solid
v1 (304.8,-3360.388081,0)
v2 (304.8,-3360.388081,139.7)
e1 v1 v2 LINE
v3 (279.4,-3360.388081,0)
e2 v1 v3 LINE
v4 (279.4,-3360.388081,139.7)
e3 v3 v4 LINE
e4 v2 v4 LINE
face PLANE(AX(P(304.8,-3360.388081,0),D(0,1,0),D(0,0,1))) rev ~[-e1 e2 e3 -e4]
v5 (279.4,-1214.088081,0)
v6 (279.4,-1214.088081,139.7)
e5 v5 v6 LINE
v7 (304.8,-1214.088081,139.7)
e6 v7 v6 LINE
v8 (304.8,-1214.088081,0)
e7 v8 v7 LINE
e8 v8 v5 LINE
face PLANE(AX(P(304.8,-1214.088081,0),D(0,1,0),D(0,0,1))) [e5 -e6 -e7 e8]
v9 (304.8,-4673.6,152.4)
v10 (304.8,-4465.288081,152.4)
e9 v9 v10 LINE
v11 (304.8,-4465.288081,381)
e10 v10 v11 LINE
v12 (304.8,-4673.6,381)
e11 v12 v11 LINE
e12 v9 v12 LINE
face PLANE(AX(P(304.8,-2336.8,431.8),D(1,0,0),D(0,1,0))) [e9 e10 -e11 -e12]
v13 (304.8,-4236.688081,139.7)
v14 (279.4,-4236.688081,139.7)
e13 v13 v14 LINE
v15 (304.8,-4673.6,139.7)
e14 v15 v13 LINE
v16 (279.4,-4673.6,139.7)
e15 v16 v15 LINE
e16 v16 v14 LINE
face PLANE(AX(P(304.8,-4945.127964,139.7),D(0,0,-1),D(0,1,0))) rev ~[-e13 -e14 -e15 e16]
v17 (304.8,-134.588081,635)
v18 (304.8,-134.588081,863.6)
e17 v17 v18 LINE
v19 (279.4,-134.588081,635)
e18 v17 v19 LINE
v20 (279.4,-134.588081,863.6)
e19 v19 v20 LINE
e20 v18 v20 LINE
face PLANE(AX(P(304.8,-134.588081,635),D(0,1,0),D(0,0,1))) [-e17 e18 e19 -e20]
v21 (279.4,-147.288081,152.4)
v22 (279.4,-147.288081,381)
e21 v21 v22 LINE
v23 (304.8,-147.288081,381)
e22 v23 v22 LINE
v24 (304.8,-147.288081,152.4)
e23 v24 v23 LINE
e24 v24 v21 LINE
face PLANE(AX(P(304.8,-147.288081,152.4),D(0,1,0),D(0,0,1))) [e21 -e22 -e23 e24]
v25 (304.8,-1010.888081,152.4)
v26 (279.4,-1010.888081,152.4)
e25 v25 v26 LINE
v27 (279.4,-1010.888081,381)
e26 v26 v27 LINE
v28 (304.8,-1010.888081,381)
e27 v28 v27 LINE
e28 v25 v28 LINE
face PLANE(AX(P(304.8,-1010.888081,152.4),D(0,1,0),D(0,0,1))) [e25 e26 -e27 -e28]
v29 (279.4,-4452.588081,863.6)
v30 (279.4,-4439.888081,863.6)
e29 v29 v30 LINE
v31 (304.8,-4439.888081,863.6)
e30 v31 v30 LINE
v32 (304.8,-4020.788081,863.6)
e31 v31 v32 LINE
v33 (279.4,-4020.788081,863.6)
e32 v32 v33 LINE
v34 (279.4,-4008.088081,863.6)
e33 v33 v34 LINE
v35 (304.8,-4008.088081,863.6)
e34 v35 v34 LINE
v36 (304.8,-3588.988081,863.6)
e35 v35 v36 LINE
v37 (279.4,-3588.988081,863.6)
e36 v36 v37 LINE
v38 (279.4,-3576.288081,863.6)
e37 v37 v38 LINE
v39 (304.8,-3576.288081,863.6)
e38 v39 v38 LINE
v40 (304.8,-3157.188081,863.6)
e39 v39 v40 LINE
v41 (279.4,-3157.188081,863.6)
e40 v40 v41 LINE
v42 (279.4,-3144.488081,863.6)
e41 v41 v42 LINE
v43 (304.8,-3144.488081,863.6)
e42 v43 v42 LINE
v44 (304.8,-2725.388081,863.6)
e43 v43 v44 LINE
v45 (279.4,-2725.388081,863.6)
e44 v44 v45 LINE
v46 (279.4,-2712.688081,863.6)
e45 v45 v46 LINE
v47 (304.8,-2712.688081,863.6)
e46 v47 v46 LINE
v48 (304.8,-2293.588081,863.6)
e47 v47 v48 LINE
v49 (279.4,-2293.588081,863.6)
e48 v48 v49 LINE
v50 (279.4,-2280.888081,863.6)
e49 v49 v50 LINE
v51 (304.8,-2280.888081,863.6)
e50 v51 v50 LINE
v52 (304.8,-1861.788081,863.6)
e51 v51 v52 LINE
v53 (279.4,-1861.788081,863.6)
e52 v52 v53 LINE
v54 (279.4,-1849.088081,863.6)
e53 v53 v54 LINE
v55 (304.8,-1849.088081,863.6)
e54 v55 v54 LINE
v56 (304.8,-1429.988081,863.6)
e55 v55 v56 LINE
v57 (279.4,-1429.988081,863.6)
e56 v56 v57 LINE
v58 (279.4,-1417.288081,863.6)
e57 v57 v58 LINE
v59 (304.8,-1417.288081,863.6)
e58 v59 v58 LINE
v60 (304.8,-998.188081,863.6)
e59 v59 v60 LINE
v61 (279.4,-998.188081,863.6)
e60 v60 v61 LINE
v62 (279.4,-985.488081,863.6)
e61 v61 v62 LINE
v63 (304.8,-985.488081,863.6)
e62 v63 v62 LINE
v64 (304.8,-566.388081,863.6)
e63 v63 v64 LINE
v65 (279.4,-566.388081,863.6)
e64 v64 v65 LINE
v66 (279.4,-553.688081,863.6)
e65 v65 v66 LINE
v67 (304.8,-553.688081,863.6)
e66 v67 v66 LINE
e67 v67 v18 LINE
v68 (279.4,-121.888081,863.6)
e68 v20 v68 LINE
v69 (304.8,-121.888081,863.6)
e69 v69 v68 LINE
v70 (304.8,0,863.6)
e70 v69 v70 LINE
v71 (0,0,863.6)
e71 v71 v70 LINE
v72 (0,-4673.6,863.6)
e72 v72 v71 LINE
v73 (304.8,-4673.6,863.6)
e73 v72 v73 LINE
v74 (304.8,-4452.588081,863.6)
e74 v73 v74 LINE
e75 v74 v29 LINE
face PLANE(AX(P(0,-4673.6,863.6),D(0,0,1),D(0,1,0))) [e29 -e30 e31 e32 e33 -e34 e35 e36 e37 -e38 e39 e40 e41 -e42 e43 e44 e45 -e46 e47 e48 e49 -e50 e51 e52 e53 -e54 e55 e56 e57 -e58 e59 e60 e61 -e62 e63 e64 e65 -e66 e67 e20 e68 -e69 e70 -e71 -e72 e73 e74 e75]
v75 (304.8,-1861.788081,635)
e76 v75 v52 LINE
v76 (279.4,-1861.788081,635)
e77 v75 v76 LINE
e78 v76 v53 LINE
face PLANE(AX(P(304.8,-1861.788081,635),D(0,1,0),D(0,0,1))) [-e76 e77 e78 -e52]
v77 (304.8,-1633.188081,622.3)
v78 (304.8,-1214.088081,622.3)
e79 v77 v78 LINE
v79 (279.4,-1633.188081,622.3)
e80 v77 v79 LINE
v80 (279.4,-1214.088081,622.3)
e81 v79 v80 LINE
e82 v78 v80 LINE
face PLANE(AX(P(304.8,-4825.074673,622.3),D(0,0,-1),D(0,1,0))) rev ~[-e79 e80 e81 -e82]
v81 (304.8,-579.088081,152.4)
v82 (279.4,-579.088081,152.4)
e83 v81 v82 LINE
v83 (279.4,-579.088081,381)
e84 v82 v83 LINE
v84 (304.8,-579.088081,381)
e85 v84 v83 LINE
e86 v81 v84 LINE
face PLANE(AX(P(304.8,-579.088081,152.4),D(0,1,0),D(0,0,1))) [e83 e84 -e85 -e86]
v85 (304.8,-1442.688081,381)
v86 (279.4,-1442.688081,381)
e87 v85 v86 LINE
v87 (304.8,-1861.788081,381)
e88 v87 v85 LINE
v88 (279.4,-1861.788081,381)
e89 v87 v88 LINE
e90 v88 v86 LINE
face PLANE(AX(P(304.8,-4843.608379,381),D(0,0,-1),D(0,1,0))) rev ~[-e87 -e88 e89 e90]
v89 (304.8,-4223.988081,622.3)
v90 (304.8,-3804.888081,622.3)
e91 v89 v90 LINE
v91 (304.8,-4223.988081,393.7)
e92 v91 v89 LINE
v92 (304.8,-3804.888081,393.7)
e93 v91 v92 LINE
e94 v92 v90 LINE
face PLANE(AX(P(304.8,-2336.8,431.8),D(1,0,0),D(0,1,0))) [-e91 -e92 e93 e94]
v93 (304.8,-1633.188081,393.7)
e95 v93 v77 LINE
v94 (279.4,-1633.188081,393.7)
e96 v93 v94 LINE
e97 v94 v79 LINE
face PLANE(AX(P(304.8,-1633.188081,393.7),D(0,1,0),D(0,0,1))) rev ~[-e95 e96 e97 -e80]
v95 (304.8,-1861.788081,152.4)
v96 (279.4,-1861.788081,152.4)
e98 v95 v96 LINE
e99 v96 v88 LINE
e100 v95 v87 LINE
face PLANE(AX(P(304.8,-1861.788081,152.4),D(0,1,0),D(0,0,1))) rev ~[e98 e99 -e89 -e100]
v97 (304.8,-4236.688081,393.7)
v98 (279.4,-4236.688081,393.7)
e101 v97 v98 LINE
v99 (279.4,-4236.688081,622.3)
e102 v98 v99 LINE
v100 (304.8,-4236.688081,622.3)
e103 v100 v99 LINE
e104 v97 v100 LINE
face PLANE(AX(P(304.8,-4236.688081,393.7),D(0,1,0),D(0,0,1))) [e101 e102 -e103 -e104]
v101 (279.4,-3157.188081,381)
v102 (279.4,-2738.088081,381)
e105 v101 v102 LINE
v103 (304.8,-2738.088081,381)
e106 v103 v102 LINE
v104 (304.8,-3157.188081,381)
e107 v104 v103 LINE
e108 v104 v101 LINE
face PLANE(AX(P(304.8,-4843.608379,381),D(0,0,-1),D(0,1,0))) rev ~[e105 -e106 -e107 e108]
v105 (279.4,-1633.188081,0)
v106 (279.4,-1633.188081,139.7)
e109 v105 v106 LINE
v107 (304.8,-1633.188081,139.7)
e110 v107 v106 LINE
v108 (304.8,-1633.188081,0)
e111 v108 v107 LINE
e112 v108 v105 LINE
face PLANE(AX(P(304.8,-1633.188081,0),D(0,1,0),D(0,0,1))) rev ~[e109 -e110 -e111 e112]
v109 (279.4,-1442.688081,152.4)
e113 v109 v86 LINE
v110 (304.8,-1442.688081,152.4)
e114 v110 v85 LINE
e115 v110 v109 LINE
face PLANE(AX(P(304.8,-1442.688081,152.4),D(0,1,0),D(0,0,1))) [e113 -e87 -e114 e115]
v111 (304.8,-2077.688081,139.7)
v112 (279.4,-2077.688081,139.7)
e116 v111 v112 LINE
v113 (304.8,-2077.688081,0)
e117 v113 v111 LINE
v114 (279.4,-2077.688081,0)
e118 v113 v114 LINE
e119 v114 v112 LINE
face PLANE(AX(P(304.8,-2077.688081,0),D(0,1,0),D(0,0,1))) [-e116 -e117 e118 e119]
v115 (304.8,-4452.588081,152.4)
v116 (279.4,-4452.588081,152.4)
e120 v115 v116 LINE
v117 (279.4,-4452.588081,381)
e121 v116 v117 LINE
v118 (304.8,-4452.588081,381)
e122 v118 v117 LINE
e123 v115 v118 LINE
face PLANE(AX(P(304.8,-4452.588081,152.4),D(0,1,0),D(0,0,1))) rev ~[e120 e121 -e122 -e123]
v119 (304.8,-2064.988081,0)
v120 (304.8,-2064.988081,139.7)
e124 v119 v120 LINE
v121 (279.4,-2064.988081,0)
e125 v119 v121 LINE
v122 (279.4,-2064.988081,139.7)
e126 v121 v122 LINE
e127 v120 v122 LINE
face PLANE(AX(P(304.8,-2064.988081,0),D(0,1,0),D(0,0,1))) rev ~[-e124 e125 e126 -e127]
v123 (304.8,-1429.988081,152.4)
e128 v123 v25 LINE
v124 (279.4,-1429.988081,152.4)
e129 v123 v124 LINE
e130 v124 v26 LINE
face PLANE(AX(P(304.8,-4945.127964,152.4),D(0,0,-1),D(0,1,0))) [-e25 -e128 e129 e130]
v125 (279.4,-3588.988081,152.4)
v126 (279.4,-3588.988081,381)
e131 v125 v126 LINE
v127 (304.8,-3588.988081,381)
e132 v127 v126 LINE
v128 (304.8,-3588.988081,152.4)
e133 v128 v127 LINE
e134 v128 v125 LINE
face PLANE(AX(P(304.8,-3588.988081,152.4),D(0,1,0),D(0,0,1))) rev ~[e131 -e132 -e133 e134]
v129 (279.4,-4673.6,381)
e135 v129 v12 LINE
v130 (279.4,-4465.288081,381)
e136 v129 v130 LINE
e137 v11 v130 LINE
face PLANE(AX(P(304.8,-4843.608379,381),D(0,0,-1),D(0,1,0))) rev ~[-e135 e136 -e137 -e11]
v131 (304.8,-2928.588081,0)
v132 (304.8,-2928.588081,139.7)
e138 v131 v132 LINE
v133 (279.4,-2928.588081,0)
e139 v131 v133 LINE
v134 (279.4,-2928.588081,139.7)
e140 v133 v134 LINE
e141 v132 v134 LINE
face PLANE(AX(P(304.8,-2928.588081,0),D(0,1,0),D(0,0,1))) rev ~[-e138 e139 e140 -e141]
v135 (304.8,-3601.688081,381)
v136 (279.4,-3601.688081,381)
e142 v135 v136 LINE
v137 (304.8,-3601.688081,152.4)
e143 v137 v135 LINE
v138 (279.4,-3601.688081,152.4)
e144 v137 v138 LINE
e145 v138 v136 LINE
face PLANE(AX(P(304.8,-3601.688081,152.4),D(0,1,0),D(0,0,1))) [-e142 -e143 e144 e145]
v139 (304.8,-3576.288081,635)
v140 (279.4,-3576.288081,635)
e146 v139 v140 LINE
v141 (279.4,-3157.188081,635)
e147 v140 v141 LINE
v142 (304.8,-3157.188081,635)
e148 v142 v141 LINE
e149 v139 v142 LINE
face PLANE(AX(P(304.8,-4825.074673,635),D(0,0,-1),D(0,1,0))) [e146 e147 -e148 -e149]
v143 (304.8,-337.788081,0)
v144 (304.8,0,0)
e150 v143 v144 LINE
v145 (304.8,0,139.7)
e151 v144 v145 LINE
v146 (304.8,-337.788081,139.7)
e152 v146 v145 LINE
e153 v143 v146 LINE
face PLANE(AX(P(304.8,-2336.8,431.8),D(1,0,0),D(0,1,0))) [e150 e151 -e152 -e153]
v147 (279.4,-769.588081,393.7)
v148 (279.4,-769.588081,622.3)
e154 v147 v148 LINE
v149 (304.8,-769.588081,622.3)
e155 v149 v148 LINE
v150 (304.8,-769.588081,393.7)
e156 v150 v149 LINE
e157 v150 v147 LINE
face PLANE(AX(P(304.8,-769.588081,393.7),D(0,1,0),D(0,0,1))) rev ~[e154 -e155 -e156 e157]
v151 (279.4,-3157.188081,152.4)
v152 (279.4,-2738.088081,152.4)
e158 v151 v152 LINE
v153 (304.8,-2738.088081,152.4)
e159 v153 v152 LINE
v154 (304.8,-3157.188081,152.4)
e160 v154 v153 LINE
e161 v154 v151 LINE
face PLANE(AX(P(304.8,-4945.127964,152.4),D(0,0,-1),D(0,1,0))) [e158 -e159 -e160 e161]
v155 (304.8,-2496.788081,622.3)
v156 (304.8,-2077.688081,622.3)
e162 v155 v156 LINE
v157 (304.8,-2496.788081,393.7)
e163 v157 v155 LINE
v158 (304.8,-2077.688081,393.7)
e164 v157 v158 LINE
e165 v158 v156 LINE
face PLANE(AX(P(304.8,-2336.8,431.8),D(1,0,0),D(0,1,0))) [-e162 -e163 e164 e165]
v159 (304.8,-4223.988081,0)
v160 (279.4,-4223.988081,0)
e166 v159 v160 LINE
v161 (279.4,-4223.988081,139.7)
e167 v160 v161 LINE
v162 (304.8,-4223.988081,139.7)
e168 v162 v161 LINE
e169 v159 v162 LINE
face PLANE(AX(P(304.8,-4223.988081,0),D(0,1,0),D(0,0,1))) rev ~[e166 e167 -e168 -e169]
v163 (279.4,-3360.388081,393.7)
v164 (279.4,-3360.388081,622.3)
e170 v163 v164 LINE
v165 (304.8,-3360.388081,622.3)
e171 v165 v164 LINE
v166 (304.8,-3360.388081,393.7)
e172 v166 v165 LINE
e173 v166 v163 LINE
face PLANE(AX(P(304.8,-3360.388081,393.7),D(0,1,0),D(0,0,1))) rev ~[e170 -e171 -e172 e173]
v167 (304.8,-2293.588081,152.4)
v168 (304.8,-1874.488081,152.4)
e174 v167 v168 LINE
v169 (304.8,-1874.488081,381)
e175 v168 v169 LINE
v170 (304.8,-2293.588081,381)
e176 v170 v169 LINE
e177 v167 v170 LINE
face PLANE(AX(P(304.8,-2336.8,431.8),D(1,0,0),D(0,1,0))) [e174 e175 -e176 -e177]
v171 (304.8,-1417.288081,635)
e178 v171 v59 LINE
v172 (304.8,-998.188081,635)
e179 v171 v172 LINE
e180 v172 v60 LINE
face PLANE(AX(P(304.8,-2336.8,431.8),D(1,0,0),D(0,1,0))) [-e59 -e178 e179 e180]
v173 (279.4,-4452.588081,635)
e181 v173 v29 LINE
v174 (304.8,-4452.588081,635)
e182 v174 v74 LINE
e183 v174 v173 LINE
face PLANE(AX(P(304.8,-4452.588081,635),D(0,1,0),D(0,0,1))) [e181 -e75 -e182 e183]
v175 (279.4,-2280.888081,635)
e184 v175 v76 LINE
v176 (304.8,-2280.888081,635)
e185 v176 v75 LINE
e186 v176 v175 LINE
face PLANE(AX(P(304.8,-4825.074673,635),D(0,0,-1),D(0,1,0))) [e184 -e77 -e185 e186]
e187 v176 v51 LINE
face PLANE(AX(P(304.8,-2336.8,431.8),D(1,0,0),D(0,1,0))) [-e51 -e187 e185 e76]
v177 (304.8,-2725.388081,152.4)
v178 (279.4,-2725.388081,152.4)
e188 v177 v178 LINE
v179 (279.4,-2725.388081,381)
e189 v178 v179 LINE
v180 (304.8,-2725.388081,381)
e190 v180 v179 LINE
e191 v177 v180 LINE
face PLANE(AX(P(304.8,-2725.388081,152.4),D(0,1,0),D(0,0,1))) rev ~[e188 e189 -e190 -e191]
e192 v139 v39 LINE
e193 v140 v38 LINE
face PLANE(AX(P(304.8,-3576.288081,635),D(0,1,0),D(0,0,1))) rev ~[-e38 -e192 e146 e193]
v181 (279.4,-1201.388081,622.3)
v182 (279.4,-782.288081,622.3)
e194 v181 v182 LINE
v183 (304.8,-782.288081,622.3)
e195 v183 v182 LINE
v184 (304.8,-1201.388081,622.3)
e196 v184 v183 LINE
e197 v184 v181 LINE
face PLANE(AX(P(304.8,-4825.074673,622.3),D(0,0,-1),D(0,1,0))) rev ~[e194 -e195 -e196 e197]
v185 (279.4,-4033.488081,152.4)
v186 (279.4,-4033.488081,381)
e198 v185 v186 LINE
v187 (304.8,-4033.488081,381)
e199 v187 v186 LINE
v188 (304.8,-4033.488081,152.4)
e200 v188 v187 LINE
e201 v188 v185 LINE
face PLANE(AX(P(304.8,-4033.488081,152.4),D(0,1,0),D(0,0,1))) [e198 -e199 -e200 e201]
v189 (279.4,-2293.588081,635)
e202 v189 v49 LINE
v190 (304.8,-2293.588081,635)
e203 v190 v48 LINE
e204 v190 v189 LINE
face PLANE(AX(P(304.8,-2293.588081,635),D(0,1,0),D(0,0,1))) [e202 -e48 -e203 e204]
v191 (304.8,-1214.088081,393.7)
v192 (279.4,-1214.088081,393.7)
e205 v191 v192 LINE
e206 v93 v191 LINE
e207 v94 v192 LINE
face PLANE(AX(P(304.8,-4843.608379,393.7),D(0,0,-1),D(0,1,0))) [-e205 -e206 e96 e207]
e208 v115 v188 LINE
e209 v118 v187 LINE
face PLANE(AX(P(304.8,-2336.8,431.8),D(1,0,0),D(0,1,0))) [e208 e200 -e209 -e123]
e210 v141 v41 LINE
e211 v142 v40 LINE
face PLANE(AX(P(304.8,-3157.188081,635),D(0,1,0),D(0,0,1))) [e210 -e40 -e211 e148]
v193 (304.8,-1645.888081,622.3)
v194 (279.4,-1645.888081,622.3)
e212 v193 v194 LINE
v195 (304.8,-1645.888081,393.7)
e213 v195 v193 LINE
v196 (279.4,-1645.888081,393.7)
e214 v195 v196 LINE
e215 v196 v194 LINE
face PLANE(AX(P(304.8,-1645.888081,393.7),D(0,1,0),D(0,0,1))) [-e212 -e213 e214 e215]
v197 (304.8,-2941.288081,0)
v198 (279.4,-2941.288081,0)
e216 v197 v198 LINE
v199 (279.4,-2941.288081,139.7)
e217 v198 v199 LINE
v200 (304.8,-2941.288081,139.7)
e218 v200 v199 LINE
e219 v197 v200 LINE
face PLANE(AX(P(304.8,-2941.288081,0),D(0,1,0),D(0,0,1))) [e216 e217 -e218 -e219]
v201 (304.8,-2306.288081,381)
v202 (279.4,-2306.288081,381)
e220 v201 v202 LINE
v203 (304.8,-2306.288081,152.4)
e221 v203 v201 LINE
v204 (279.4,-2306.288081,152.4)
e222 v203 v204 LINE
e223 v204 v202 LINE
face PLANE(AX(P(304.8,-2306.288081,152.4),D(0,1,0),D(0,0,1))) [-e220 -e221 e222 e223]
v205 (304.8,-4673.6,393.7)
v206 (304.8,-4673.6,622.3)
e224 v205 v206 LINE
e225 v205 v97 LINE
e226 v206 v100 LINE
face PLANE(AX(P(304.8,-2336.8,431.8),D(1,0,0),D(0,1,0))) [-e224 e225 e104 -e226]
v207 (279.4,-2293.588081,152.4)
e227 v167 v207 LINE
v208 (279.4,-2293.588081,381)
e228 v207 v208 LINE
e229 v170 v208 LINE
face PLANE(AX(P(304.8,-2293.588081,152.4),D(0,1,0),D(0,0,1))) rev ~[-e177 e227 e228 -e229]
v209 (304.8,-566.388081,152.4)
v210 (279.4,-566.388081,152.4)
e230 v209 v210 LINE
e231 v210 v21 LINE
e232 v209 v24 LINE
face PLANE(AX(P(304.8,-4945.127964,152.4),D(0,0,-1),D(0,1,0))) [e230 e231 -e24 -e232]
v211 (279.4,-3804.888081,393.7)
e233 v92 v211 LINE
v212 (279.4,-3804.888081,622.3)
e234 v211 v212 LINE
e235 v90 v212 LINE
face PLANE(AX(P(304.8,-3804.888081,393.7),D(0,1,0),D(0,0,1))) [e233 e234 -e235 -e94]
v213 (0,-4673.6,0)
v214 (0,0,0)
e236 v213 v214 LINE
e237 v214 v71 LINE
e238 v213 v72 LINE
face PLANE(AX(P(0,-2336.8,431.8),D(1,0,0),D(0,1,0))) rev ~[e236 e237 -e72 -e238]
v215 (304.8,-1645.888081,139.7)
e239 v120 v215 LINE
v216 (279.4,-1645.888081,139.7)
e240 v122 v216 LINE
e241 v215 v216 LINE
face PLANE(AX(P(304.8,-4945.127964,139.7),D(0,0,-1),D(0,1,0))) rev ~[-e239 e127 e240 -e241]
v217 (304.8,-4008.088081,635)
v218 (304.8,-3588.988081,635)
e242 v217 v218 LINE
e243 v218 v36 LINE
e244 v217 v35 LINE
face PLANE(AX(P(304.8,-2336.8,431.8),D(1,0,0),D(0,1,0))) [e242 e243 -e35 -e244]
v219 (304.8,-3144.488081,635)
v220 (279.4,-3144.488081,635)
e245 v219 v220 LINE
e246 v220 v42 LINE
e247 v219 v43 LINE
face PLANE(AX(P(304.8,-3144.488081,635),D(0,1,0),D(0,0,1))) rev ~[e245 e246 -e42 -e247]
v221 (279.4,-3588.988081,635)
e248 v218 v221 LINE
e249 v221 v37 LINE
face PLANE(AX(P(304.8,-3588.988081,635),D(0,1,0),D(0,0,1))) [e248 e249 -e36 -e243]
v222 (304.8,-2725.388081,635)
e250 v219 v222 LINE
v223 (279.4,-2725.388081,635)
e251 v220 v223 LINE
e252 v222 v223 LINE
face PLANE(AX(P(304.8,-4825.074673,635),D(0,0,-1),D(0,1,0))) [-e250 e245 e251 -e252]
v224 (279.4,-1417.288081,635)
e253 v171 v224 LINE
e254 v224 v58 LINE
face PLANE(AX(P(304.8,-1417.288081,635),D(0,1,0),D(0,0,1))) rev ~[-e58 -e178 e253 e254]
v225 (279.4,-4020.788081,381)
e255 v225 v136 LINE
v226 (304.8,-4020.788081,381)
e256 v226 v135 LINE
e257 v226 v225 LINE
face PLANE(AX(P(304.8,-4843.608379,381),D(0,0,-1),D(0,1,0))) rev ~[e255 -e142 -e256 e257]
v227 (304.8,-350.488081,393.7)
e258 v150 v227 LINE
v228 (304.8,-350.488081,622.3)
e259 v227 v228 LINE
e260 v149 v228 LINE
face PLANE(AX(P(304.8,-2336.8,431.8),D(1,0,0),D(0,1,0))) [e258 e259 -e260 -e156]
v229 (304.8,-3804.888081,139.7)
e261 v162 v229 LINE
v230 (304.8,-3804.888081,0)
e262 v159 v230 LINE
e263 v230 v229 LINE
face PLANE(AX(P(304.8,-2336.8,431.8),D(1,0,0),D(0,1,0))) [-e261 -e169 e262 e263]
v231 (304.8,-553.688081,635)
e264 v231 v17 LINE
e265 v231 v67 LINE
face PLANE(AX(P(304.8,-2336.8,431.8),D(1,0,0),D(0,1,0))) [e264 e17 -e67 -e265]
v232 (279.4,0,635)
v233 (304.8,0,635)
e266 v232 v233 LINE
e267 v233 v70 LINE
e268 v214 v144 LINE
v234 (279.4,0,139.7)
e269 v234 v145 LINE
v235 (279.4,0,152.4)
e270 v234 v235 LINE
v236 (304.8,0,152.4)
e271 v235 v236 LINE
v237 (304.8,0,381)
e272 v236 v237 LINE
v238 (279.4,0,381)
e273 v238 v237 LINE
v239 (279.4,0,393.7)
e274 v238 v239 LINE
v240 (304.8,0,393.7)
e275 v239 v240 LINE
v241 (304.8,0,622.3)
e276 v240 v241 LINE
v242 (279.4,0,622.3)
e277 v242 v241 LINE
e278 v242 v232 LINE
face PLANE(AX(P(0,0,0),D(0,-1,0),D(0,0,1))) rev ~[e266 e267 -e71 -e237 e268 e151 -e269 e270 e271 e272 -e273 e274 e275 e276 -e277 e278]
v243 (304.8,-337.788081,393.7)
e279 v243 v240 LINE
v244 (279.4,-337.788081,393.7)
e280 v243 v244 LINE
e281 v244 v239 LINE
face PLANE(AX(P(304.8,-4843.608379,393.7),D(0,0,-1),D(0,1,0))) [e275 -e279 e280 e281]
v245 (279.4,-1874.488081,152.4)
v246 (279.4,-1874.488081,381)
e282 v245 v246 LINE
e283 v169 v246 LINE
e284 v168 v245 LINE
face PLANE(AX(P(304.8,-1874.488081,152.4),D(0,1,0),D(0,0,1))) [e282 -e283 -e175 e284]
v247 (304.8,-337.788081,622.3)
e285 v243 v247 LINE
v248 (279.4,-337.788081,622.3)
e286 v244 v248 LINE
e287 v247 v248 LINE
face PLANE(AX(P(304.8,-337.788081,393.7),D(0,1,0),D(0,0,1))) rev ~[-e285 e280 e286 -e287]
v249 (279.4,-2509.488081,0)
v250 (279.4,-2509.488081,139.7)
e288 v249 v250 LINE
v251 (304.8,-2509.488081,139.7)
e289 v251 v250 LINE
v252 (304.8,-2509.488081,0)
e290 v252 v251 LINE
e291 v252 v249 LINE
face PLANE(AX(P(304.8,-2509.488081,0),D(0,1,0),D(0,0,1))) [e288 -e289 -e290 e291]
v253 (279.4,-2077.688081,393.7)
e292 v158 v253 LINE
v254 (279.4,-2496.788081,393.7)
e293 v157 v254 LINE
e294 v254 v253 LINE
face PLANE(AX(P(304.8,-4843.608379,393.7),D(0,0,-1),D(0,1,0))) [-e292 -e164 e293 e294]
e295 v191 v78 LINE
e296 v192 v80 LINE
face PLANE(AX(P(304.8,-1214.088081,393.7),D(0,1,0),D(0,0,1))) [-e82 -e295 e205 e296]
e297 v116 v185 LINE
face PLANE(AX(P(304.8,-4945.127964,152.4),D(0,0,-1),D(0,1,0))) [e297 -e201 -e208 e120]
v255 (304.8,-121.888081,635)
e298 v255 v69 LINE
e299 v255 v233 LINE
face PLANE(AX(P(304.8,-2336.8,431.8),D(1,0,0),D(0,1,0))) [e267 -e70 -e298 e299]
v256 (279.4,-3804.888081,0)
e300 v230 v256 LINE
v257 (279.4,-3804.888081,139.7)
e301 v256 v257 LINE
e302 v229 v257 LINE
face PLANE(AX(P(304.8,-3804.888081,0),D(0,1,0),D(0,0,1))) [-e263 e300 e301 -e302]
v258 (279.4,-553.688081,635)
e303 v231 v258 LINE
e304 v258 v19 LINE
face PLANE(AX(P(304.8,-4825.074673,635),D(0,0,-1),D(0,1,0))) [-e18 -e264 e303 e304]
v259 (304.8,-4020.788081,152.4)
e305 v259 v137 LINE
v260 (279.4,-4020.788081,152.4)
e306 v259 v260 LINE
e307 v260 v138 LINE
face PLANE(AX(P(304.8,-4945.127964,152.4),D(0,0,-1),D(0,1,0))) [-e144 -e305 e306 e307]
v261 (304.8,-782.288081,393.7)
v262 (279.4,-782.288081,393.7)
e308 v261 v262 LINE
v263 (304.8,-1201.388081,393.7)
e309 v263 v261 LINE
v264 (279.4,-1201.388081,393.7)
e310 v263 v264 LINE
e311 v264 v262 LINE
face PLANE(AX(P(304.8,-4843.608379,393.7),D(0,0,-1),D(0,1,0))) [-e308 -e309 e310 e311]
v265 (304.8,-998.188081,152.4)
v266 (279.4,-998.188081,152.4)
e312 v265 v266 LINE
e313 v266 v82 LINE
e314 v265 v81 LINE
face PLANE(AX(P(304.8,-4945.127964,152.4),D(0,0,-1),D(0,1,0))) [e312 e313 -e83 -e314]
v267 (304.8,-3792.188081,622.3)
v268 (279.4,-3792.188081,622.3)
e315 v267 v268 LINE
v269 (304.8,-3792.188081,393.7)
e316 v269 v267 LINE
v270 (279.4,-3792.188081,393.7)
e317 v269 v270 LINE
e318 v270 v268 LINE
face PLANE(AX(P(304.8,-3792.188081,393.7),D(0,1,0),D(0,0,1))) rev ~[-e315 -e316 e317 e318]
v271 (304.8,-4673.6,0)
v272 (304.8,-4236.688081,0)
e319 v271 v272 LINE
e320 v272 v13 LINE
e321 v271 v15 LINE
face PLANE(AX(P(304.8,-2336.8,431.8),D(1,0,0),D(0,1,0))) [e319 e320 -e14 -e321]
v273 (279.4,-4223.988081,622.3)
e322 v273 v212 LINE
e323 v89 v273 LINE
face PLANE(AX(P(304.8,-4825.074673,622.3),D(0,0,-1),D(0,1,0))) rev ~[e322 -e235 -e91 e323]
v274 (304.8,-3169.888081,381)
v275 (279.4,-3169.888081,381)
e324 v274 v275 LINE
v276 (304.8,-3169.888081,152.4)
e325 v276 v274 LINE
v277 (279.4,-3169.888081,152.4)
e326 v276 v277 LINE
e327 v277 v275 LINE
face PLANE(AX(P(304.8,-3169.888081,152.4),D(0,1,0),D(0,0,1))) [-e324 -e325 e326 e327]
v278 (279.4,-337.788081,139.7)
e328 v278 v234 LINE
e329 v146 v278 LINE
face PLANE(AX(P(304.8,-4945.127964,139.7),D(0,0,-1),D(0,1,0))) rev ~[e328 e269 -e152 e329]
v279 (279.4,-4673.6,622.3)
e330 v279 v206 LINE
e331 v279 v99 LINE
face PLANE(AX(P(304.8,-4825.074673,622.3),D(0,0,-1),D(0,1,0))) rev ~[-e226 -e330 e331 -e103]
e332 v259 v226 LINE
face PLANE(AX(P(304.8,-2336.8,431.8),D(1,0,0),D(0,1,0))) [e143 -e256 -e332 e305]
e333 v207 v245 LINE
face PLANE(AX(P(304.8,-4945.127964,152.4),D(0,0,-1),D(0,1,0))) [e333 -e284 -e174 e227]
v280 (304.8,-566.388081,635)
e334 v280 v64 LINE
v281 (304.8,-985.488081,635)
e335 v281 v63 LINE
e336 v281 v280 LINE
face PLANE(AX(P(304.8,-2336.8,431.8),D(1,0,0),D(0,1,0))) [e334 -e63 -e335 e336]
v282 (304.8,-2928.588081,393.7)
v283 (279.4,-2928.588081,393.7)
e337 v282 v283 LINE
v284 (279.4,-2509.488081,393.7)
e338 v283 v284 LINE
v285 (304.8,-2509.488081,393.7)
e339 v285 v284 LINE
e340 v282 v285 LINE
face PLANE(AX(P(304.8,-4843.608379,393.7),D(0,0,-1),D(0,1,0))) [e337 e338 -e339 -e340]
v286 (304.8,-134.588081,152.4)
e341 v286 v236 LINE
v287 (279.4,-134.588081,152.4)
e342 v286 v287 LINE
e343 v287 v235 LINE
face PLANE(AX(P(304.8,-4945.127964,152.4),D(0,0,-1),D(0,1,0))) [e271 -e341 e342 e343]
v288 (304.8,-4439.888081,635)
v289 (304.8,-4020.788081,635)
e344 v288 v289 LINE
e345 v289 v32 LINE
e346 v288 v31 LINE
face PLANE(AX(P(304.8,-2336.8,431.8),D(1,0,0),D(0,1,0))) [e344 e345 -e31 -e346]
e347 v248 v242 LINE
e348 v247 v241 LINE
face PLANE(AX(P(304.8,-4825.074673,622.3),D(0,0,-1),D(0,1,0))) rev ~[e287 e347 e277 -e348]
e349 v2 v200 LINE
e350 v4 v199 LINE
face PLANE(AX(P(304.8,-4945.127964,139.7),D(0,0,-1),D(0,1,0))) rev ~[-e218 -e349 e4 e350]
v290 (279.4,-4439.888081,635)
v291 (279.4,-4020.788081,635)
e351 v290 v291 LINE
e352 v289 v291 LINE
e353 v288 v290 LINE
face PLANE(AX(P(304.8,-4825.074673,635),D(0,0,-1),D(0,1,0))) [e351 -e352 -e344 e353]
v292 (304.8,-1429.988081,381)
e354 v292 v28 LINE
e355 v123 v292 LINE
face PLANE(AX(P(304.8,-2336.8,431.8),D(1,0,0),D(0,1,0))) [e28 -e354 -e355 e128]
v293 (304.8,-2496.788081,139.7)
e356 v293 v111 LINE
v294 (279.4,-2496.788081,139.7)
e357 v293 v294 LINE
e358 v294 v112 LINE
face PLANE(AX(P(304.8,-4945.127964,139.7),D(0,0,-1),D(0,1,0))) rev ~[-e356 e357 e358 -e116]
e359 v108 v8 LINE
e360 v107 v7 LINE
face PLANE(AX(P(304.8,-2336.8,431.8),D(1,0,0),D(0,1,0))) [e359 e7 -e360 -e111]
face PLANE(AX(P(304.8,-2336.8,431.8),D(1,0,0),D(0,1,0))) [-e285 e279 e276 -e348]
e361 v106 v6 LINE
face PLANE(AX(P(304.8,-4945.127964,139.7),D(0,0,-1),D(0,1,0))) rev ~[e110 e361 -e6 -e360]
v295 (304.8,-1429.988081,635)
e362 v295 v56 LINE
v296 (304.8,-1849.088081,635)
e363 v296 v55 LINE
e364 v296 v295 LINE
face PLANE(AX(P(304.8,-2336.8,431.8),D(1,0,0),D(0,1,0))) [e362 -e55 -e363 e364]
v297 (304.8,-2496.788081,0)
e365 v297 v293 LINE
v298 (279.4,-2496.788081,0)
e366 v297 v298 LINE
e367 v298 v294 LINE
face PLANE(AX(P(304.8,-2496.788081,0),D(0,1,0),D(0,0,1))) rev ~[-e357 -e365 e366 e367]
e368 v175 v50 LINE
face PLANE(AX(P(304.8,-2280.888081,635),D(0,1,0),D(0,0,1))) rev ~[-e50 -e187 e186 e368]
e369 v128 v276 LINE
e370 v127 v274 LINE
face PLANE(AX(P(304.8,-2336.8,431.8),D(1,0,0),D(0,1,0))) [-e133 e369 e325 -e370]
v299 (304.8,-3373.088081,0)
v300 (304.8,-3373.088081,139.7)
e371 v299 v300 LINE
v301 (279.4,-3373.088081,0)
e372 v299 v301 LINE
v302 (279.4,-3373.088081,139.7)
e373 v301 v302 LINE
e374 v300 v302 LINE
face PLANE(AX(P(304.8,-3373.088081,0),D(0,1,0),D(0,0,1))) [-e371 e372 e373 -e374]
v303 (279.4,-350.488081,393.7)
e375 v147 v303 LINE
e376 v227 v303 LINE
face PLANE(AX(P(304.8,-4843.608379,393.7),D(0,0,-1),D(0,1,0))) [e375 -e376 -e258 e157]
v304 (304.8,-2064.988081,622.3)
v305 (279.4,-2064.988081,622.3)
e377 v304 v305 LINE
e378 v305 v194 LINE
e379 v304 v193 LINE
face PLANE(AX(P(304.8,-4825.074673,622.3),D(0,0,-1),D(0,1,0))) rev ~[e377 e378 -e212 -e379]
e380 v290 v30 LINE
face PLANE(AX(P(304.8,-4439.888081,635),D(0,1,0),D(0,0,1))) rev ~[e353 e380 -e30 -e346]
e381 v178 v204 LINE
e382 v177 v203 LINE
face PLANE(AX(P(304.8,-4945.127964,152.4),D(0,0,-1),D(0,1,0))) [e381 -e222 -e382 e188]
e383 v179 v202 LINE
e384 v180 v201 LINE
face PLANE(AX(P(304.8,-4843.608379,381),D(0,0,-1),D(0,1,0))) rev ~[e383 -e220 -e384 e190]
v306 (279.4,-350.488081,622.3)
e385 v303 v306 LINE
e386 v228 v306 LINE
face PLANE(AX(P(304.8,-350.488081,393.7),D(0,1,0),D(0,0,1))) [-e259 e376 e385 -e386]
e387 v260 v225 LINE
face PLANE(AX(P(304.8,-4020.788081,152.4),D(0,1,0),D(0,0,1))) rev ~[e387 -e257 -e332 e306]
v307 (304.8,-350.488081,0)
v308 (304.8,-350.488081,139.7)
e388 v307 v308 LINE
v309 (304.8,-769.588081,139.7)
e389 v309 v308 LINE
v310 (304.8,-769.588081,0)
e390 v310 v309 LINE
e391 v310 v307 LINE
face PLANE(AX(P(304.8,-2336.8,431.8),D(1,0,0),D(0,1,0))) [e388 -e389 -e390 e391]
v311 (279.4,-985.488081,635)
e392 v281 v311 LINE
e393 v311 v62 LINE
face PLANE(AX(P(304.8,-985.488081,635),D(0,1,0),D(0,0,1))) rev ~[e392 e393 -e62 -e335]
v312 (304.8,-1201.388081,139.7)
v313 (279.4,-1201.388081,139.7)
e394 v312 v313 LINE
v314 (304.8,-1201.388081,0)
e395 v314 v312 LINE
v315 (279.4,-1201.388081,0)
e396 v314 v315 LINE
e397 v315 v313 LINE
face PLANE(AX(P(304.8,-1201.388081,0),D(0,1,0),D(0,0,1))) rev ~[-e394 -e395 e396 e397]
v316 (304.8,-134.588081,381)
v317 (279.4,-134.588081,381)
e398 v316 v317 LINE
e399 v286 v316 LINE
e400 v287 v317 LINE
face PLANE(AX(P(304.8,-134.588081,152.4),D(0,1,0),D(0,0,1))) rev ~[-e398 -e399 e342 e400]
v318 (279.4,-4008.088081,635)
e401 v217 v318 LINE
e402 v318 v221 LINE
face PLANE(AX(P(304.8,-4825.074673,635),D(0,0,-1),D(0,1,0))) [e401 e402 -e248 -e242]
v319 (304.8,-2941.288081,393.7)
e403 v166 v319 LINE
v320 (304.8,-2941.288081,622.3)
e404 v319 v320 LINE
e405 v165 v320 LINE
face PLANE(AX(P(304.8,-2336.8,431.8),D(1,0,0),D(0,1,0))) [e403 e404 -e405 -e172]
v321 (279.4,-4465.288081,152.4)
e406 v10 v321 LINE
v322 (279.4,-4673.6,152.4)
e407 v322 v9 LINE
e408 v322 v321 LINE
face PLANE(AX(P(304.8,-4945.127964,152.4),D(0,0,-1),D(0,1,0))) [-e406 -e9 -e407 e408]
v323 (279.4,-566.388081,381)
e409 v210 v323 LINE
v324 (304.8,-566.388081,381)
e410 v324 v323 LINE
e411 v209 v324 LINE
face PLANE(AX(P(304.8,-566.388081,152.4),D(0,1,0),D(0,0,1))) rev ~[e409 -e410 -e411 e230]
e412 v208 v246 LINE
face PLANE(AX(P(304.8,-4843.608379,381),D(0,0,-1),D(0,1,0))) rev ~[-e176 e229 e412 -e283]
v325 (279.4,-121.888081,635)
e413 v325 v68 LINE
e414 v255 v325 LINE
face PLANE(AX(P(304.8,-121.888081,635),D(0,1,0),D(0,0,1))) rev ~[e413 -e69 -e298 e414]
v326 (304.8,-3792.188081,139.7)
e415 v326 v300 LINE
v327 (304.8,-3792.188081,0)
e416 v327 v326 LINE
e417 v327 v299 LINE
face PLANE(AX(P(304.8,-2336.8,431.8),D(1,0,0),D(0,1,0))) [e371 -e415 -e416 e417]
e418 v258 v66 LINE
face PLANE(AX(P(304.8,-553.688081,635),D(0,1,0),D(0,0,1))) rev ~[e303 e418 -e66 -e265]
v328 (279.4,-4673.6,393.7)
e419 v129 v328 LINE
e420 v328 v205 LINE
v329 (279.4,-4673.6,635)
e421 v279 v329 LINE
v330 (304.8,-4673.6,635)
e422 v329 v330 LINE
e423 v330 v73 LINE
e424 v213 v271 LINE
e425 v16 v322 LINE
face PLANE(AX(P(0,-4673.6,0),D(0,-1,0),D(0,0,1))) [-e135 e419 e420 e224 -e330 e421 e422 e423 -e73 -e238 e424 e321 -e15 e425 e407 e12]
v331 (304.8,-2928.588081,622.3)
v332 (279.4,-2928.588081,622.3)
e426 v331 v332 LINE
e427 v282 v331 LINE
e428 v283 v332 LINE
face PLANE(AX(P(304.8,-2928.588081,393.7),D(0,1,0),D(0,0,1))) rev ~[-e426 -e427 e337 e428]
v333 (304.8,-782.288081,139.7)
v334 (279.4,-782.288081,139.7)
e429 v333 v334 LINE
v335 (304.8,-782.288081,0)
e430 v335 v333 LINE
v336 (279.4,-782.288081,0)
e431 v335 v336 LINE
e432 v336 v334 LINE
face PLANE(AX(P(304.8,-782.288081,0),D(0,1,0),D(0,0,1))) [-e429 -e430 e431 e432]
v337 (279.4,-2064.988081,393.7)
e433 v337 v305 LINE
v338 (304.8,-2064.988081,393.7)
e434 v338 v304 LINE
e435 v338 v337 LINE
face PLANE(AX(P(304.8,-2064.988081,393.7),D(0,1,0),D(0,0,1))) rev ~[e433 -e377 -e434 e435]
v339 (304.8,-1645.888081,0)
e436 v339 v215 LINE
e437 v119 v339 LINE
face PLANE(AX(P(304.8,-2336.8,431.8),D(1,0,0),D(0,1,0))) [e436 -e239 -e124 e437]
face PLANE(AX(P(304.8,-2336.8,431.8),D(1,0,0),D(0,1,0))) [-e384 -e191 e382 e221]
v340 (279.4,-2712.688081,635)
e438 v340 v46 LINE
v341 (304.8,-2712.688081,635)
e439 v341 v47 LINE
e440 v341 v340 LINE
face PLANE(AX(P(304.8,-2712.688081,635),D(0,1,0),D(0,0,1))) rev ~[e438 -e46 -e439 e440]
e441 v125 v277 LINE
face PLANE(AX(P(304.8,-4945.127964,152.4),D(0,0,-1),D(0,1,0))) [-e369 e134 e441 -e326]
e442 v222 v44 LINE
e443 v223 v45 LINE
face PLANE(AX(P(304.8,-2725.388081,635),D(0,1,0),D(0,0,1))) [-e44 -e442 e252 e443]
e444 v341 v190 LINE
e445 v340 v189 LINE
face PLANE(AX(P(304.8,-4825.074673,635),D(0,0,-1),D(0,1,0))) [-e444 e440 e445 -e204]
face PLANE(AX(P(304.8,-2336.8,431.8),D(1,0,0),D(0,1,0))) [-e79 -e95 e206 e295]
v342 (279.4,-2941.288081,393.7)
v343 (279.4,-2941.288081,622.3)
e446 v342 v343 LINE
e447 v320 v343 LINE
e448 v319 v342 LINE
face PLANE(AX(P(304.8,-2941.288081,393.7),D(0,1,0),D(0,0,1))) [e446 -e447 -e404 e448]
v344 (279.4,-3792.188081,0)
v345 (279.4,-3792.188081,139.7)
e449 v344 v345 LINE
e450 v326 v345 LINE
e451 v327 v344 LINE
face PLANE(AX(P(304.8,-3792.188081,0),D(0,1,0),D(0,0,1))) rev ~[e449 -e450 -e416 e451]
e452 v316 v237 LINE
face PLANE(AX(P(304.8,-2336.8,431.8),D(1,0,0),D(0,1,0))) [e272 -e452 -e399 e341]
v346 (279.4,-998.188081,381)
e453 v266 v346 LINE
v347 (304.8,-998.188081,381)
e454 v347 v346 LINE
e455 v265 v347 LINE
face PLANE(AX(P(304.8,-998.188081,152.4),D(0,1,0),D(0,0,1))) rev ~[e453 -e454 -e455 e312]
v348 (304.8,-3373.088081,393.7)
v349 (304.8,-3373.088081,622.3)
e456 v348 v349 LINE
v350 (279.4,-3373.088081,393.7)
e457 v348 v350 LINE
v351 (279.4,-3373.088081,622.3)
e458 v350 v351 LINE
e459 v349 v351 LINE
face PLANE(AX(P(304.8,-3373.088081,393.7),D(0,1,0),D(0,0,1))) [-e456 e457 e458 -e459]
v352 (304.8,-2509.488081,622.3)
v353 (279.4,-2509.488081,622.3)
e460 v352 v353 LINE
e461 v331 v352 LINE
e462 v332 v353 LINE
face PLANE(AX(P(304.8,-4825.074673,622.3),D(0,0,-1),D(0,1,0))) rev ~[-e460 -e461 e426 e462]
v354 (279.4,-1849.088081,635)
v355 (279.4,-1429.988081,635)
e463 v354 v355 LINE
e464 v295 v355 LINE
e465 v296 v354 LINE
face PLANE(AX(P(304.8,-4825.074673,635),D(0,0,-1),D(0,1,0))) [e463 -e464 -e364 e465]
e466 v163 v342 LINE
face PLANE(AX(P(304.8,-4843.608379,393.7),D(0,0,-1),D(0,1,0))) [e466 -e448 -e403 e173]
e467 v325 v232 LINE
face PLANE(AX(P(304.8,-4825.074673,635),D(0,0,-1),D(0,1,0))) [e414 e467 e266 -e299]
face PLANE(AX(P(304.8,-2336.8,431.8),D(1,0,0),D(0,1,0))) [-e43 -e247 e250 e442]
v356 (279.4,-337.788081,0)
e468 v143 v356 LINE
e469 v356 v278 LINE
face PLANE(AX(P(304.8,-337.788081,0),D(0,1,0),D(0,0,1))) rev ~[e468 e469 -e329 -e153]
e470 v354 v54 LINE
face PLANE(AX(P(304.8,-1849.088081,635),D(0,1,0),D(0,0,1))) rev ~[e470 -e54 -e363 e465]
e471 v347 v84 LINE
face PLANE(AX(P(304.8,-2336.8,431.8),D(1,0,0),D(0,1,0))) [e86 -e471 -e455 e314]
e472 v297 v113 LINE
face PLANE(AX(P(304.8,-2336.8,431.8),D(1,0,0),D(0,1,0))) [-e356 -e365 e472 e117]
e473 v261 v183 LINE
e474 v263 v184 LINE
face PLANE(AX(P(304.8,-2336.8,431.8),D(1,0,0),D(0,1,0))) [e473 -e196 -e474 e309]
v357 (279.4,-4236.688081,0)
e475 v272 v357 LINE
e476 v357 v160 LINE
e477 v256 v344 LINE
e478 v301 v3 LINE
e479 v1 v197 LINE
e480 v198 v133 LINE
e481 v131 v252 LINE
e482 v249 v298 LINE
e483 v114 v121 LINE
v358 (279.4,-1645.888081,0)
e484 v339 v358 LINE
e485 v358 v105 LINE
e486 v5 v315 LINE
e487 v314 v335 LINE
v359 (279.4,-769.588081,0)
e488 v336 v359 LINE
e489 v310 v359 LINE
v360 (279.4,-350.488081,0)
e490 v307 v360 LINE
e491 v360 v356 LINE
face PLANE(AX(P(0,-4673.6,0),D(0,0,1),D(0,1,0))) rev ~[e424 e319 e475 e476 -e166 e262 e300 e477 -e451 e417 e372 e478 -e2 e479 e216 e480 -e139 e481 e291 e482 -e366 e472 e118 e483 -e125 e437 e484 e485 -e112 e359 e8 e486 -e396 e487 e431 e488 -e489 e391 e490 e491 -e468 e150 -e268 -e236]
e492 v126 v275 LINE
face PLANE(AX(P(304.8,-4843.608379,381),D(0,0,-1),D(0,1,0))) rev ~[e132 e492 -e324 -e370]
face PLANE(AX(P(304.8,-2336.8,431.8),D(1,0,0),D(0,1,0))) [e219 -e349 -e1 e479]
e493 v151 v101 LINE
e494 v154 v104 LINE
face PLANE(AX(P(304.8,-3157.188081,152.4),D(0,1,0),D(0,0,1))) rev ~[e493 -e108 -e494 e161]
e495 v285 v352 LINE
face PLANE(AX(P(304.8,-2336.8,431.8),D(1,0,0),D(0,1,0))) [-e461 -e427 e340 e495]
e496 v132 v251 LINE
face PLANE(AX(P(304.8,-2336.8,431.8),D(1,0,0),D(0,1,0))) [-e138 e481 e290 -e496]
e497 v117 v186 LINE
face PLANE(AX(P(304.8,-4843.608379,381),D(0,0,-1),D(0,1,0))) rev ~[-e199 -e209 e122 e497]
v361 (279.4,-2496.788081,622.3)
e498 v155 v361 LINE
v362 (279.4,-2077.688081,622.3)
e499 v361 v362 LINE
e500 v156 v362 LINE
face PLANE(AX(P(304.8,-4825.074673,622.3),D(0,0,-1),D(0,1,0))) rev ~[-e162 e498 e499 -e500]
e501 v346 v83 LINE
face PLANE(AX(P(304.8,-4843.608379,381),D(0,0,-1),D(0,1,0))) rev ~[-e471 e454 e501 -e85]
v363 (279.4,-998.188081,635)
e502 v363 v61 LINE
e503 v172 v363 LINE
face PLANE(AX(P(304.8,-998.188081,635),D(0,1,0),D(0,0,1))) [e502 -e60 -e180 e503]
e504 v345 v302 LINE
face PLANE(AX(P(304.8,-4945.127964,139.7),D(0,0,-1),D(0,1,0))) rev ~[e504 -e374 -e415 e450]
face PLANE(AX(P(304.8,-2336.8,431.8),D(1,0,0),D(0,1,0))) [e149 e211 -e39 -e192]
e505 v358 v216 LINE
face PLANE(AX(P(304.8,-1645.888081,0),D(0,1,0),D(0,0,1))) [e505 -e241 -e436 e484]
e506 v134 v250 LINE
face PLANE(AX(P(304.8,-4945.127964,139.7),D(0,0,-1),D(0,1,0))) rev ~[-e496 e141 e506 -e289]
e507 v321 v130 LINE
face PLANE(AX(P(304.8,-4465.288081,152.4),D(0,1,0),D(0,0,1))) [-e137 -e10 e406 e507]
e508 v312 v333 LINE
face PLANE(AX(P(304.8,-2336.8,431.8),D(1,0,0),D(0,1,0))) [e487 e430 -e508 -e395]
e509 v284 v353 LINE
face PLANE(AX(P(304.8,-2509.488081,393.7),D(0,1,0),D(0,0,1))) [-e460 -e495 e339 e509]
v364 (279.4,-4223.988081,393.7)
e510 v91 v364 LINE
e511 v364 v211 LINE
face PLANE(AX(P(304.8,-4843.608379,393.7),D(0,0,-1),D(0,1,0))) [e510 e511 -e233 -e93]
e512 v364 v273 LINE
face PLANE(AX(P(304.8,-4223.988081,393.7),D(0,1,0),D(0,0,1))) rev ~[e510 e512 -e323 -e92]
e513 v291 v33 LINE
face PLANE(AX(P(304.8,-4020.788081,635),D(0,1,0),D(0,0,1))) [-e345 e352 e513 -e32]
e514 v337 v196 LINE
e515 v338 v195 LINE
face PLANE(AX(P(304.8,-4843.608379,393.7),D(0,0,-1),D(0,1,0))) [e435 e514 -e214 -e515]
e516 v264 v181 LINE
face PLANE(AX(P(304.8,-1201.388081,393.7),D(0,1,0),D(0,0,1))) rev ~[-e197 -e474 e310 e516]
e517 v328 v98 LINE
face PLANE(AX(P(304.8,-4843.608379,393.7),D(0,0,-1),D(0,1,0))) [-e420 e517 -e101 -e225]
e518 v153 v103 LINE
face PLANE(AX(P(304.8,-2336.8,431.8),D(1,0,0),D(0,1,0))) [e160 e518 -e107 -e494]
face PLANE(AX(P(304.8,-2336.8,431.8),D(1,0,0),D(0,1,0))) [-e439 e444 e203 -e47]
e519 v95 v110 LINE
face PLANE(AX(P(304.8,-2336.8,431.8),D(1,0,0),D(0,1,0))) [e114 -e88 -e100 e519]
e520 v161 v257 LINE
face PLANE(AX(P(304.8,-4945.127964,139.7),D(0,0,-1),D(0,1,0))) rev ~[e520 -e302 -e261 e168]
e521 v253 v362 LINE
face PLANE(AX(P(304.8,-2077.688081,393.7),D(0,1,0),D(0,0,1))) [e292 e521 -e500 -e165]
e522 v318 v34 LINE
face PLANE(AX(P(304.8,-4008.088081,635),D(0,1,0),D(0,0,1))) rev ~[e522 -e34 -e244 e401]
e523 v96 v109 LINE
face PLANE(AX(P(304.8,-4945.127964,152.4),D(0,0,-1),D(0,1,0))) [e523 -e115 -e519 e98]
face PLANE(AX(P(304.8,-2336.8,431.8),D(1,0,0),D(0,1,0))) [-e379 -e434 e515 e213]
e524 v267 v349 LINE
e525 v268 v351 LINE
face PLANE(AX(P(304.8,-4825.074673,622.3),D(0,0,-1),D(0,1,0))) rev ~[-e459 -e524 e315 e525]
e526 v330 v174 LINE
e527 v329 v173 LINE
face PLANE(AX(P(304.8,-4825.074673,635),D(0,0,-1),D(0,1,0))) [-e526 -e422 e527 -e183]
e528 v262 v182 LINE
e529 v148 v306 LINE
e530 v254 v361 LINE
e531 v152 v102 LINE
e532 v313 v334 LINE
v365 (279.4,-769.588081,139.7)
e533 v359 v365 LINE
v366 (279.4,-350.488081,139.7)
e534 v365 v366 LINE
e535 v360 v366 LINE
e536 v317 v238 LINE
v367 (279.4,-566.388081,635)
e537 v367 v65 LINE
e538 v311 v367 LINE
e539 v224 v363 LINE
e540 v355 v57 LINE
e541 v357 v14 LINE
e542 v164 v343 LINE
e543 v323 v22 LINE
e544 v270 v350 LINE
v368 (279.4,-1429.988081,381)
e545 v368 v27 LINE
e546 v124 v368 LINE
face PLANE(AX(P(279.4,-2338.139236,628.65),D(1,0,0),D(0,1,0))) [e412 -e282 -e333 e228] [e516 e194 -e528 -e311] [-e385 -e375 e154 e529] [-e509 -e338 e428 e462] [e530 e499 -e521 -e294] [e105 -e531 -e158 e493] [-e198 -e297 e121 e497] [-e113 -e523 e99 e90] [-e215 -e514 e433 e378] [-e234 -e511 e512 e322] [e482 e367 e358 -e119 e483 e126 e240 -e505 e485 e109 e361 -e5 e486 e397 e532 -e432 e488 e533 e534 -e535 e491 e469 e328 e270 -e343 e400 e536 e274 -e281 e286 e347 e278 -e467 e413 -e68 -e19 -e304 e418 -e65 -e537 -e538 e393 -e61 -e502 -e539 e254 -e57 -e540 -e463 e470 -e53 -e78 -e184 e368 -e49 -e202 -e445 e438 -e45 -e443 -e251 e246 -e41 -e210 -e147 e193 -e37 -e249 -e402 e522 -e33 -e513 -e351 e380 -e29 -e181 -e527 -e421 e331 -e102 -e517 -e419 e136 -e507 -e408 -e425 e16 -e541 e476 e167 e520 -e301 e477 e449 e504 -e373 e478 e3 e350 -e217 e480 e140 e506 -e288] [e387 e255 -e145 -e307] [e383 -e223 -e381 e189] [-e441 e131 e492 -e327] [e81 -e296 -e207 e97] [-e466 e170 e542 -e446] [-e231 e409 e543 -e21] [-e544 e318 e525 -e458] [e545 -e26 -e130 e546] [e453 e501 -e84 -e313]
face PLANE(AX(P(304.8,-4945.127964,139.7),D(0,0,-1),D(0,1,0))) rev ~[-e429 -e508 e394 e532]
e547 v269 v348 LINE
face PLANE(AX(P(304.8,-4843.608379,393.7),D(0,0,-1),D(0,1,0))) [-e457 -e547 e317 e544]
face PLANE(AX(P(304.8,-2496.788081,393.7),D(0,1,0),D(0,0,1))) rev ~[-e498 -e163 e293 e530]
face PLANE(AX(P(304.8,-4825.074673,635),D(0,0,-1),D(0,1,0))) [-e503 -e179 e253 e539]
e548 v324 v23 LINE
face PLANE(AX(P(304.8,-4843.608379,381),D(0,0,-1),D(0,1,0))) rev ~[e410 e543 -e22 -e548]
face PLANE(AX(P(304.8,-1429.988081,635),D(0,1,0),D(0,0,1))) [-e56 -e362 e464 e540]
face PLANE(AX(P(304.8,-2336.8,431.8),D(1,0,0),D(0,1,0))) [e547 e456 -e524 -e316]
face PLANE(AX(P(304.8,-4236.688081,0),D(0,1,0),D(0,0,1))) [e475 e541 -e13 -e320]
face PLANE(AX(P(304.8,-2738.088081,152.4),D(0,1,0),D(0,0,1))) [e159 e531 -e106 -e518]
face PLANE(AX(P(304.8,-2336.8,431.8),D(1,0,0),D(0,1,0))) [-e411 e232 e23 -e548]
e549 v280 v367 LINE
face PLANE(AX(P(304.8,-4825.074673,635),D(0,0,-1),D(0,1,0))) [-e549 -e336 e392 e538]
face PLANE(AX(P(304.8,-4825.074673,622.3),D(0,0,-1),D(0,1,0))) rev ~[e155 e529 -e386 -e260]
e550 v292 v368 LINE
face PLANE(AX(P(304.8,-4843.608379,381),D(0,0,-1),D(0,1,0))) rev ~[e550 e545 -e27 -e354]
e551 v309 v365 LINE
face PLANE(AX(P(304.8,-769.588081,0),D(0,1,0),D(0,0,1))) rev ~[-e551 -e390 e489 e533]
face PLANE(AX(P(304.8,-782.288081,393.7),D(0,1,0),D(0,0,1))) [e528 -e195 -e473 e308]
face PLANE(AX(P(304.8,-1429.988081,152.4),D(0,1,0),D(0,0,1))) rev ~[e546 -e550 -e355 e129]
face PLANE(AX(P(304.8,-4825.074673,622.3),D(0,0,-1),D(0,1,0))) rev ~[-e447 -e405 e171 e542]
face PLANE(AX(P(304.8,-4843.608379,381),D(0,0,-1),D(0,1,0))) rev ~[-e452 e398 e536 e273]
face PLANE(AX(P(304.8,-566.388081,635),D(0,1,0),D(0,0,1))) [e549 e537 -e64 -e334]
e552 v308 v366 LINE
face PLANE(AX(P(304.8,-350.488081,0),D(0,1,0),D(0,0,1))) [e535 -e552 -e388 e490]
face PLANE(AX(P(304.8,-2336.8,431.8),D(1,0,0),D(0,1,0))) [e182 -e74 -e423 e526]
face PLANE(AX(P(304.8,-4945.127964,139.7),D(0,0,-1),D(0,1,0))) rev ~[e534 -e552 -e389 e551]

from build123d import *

# Parameters (mm, degrees)
F0_W     = 4673.6
F0_H     = 863.6
F1_DEPTH = 304.8
F2_W     = 4973.870874
F2_H     = 12.7
F2_W_2   = 5047.692343
F2_W_3   = 5047.768645
F3_DEPTH = 25.4
F4_W     = 12.7
F4_H     = 228.6
F4_H_2   = 139.7
F5_DEPTH = 25.4


with BuildPart() as f1:
    # F0 (on Right) → F1 (new body)
    with BuildSketch(Plane.YZ):
        with Locations((-2336.8, 431.8)):
            Rectangle(F0_W, F0_H)
    extrude(amount=F1_DEPTH)

    # F2 (on face) → F3 (cut)
    with BuildSketch(Plane.YZ.offset(304.8)):
        with Locations((-2338.139236, 628.65)):
            Rectangle(F2_W, F2_H)
        with Locations((-2319.762207, 387.35)):
            Rectangle(F2_W_2, F2_H)
        with Locations((-2421.243641, 146.05)):
            Rectangle(F2_W_3, F2_H)
    extrude(amount=-F3_DEPTH, mode=Mode.SUBTRACT)

    # F4 (on face) → F5 (cut)
    with BuildSketch(Plane.YZ.offset(304.8)):
        with Locations((-4446.238081, 749.3)):
            Rectangle(F4_W, F4_H)
        with Locations((-4230.338081, 508)):
            Rectangle(F4_W, F4_H)
        with Locations((-4458.938081, 266.7)):
            Rectangle(F4_W, F4_H)
        with Locations((-4230.338081, 69.85)):
            Rectangle(F4_W, F4_H_2)
        with Locations((-4027.138081, 266.7)):
            Rectangle(F4_W, F4_H)
        with Locations((-3798.538081, 69.85)):
            Rectangle(F4_W, F4_H_2)
        with Locations((-3798.538081, 508)):
            Rectangle(F4_W, F4_H)
        with Locations((-4014.438081, 749.3)):
            Rectangle(F4_W, F4_H)
        with Locations((-3595.338081, 266.7)):
            Rectangle(F4_W, F4_H)
        with Locations((-3366.738081, 69.85)):
            Rectangle(F4_W, F4_H_2)
        with Locations((-3366.738081, 508)):
            Rectangle(F4_W, F4_H)
        with Locations((-3582.638081, 749.3)):
            Rectangle(F4_W, F4_H)
        with Locations((-3163.538081, 266.7)):
            Rectangle(F4_W, F4_H)
        with Locations((-2934.938081, 69.85)):
            Rectangle(F4_W, F4_H_2)
        with Locations((-2934.938081, 508)):
            Rectangle(F4_W, F4_H)
        with Locations((-3150.838081, 749.3)):
            Rectangle(F4_W, F4_H)
        with Locations((-2731.738081, 266.7)):
            Rectangle(F4_W, F4_H)
        with Locations((-2503.138081, 69.85)):
            Rectangle(F4_W, F4_H_2)
        with Locations((-2503.138081, 508)):
            Rectangle(F4_W, F4_H)
        with Locations((-2719.038081, 749.3)):
            Rectangle(F4_W, F4_H)
        with Locations((-2299.938081, 266.7)):
            Rectangle(F4_W, F4_H)
        with Locations((-2071.338081, 69.85)):
            Rectangle(F4_W, F4_H_2)
        with Locations((-2071.338081, 508)):
            Rectangle(F4_W, F4_H)
        with Locations((-2287.238081, 749.3)):
            Rectangle(F4_W, F4_H)
        with Locations((-1868.138081, 266.7)):
            Rectangle(F4_W, F4_H)
        with Locations((-1639.538081, 69.85)):
            Rectangle(F4_W, F4_H_2)
        with Locations((-1639.538081, 508)):
            Rectangle(F4_W, F4_H)
        with Locations((-1855.438081, 749.3)):
            Rectangle(F4_W, F4_H)
        with Locations((-1436.338081, 266.7)):
            Rectangle(F4_W, F4_H)
        with Locations((-1207.738081, 69.85)):
            Rectangle(F4_W, F4_H_2)
        with Locations((-1207.738081, 508)):
            Rectangle(F4_W, F4_H)
        with Locations((-1423.638081, 749.3)):
            Rectangle(F4_W, F4_H)
        with Locations((-1004.538081, 266.7)):
            Rectangle(F4_W, F4_H)
        with Locations((-775.938081, 69.85)):
            Rectangle(F4_W, F4_H_2)
        with Locations((-775.938081, 508)):
            Rectangle(F4_W, F4_H)
        with Locations((-991.838081, 749.3)):
            Rectangle(F4_W, F4_H)
        with Locations((-572.738081, 266.7)):
            Rectangle(F4_W, F4_H)
        with Locations((-344.138081, 69.85)):
            Rectangle(F4_W, F4_H_2)
        with Locations((-344.138081, 508)):
            Rectangle(F4_W, F4_H)
        with Locations((-560.038081, 749.3)):
            Rectangle(F4_W, F4_H)
        with Locations((-140.938081, 266.7)):
            Rectangle(F4_W, F4_H)
        with Locations((87.661919, 69.85)):
            Rectangle(F4_W, F4_H_2)
        with Locations((87.661919, 508)):
            Rectangle(F4_W, F4_H)
        with Locations((-128.238081, 749.3)):
            Rectangle(F4_W, F4_H)
    extrude(amount=-F5_DEPTH, mode=Mode.SUBTRACT)


solid = f1.part
